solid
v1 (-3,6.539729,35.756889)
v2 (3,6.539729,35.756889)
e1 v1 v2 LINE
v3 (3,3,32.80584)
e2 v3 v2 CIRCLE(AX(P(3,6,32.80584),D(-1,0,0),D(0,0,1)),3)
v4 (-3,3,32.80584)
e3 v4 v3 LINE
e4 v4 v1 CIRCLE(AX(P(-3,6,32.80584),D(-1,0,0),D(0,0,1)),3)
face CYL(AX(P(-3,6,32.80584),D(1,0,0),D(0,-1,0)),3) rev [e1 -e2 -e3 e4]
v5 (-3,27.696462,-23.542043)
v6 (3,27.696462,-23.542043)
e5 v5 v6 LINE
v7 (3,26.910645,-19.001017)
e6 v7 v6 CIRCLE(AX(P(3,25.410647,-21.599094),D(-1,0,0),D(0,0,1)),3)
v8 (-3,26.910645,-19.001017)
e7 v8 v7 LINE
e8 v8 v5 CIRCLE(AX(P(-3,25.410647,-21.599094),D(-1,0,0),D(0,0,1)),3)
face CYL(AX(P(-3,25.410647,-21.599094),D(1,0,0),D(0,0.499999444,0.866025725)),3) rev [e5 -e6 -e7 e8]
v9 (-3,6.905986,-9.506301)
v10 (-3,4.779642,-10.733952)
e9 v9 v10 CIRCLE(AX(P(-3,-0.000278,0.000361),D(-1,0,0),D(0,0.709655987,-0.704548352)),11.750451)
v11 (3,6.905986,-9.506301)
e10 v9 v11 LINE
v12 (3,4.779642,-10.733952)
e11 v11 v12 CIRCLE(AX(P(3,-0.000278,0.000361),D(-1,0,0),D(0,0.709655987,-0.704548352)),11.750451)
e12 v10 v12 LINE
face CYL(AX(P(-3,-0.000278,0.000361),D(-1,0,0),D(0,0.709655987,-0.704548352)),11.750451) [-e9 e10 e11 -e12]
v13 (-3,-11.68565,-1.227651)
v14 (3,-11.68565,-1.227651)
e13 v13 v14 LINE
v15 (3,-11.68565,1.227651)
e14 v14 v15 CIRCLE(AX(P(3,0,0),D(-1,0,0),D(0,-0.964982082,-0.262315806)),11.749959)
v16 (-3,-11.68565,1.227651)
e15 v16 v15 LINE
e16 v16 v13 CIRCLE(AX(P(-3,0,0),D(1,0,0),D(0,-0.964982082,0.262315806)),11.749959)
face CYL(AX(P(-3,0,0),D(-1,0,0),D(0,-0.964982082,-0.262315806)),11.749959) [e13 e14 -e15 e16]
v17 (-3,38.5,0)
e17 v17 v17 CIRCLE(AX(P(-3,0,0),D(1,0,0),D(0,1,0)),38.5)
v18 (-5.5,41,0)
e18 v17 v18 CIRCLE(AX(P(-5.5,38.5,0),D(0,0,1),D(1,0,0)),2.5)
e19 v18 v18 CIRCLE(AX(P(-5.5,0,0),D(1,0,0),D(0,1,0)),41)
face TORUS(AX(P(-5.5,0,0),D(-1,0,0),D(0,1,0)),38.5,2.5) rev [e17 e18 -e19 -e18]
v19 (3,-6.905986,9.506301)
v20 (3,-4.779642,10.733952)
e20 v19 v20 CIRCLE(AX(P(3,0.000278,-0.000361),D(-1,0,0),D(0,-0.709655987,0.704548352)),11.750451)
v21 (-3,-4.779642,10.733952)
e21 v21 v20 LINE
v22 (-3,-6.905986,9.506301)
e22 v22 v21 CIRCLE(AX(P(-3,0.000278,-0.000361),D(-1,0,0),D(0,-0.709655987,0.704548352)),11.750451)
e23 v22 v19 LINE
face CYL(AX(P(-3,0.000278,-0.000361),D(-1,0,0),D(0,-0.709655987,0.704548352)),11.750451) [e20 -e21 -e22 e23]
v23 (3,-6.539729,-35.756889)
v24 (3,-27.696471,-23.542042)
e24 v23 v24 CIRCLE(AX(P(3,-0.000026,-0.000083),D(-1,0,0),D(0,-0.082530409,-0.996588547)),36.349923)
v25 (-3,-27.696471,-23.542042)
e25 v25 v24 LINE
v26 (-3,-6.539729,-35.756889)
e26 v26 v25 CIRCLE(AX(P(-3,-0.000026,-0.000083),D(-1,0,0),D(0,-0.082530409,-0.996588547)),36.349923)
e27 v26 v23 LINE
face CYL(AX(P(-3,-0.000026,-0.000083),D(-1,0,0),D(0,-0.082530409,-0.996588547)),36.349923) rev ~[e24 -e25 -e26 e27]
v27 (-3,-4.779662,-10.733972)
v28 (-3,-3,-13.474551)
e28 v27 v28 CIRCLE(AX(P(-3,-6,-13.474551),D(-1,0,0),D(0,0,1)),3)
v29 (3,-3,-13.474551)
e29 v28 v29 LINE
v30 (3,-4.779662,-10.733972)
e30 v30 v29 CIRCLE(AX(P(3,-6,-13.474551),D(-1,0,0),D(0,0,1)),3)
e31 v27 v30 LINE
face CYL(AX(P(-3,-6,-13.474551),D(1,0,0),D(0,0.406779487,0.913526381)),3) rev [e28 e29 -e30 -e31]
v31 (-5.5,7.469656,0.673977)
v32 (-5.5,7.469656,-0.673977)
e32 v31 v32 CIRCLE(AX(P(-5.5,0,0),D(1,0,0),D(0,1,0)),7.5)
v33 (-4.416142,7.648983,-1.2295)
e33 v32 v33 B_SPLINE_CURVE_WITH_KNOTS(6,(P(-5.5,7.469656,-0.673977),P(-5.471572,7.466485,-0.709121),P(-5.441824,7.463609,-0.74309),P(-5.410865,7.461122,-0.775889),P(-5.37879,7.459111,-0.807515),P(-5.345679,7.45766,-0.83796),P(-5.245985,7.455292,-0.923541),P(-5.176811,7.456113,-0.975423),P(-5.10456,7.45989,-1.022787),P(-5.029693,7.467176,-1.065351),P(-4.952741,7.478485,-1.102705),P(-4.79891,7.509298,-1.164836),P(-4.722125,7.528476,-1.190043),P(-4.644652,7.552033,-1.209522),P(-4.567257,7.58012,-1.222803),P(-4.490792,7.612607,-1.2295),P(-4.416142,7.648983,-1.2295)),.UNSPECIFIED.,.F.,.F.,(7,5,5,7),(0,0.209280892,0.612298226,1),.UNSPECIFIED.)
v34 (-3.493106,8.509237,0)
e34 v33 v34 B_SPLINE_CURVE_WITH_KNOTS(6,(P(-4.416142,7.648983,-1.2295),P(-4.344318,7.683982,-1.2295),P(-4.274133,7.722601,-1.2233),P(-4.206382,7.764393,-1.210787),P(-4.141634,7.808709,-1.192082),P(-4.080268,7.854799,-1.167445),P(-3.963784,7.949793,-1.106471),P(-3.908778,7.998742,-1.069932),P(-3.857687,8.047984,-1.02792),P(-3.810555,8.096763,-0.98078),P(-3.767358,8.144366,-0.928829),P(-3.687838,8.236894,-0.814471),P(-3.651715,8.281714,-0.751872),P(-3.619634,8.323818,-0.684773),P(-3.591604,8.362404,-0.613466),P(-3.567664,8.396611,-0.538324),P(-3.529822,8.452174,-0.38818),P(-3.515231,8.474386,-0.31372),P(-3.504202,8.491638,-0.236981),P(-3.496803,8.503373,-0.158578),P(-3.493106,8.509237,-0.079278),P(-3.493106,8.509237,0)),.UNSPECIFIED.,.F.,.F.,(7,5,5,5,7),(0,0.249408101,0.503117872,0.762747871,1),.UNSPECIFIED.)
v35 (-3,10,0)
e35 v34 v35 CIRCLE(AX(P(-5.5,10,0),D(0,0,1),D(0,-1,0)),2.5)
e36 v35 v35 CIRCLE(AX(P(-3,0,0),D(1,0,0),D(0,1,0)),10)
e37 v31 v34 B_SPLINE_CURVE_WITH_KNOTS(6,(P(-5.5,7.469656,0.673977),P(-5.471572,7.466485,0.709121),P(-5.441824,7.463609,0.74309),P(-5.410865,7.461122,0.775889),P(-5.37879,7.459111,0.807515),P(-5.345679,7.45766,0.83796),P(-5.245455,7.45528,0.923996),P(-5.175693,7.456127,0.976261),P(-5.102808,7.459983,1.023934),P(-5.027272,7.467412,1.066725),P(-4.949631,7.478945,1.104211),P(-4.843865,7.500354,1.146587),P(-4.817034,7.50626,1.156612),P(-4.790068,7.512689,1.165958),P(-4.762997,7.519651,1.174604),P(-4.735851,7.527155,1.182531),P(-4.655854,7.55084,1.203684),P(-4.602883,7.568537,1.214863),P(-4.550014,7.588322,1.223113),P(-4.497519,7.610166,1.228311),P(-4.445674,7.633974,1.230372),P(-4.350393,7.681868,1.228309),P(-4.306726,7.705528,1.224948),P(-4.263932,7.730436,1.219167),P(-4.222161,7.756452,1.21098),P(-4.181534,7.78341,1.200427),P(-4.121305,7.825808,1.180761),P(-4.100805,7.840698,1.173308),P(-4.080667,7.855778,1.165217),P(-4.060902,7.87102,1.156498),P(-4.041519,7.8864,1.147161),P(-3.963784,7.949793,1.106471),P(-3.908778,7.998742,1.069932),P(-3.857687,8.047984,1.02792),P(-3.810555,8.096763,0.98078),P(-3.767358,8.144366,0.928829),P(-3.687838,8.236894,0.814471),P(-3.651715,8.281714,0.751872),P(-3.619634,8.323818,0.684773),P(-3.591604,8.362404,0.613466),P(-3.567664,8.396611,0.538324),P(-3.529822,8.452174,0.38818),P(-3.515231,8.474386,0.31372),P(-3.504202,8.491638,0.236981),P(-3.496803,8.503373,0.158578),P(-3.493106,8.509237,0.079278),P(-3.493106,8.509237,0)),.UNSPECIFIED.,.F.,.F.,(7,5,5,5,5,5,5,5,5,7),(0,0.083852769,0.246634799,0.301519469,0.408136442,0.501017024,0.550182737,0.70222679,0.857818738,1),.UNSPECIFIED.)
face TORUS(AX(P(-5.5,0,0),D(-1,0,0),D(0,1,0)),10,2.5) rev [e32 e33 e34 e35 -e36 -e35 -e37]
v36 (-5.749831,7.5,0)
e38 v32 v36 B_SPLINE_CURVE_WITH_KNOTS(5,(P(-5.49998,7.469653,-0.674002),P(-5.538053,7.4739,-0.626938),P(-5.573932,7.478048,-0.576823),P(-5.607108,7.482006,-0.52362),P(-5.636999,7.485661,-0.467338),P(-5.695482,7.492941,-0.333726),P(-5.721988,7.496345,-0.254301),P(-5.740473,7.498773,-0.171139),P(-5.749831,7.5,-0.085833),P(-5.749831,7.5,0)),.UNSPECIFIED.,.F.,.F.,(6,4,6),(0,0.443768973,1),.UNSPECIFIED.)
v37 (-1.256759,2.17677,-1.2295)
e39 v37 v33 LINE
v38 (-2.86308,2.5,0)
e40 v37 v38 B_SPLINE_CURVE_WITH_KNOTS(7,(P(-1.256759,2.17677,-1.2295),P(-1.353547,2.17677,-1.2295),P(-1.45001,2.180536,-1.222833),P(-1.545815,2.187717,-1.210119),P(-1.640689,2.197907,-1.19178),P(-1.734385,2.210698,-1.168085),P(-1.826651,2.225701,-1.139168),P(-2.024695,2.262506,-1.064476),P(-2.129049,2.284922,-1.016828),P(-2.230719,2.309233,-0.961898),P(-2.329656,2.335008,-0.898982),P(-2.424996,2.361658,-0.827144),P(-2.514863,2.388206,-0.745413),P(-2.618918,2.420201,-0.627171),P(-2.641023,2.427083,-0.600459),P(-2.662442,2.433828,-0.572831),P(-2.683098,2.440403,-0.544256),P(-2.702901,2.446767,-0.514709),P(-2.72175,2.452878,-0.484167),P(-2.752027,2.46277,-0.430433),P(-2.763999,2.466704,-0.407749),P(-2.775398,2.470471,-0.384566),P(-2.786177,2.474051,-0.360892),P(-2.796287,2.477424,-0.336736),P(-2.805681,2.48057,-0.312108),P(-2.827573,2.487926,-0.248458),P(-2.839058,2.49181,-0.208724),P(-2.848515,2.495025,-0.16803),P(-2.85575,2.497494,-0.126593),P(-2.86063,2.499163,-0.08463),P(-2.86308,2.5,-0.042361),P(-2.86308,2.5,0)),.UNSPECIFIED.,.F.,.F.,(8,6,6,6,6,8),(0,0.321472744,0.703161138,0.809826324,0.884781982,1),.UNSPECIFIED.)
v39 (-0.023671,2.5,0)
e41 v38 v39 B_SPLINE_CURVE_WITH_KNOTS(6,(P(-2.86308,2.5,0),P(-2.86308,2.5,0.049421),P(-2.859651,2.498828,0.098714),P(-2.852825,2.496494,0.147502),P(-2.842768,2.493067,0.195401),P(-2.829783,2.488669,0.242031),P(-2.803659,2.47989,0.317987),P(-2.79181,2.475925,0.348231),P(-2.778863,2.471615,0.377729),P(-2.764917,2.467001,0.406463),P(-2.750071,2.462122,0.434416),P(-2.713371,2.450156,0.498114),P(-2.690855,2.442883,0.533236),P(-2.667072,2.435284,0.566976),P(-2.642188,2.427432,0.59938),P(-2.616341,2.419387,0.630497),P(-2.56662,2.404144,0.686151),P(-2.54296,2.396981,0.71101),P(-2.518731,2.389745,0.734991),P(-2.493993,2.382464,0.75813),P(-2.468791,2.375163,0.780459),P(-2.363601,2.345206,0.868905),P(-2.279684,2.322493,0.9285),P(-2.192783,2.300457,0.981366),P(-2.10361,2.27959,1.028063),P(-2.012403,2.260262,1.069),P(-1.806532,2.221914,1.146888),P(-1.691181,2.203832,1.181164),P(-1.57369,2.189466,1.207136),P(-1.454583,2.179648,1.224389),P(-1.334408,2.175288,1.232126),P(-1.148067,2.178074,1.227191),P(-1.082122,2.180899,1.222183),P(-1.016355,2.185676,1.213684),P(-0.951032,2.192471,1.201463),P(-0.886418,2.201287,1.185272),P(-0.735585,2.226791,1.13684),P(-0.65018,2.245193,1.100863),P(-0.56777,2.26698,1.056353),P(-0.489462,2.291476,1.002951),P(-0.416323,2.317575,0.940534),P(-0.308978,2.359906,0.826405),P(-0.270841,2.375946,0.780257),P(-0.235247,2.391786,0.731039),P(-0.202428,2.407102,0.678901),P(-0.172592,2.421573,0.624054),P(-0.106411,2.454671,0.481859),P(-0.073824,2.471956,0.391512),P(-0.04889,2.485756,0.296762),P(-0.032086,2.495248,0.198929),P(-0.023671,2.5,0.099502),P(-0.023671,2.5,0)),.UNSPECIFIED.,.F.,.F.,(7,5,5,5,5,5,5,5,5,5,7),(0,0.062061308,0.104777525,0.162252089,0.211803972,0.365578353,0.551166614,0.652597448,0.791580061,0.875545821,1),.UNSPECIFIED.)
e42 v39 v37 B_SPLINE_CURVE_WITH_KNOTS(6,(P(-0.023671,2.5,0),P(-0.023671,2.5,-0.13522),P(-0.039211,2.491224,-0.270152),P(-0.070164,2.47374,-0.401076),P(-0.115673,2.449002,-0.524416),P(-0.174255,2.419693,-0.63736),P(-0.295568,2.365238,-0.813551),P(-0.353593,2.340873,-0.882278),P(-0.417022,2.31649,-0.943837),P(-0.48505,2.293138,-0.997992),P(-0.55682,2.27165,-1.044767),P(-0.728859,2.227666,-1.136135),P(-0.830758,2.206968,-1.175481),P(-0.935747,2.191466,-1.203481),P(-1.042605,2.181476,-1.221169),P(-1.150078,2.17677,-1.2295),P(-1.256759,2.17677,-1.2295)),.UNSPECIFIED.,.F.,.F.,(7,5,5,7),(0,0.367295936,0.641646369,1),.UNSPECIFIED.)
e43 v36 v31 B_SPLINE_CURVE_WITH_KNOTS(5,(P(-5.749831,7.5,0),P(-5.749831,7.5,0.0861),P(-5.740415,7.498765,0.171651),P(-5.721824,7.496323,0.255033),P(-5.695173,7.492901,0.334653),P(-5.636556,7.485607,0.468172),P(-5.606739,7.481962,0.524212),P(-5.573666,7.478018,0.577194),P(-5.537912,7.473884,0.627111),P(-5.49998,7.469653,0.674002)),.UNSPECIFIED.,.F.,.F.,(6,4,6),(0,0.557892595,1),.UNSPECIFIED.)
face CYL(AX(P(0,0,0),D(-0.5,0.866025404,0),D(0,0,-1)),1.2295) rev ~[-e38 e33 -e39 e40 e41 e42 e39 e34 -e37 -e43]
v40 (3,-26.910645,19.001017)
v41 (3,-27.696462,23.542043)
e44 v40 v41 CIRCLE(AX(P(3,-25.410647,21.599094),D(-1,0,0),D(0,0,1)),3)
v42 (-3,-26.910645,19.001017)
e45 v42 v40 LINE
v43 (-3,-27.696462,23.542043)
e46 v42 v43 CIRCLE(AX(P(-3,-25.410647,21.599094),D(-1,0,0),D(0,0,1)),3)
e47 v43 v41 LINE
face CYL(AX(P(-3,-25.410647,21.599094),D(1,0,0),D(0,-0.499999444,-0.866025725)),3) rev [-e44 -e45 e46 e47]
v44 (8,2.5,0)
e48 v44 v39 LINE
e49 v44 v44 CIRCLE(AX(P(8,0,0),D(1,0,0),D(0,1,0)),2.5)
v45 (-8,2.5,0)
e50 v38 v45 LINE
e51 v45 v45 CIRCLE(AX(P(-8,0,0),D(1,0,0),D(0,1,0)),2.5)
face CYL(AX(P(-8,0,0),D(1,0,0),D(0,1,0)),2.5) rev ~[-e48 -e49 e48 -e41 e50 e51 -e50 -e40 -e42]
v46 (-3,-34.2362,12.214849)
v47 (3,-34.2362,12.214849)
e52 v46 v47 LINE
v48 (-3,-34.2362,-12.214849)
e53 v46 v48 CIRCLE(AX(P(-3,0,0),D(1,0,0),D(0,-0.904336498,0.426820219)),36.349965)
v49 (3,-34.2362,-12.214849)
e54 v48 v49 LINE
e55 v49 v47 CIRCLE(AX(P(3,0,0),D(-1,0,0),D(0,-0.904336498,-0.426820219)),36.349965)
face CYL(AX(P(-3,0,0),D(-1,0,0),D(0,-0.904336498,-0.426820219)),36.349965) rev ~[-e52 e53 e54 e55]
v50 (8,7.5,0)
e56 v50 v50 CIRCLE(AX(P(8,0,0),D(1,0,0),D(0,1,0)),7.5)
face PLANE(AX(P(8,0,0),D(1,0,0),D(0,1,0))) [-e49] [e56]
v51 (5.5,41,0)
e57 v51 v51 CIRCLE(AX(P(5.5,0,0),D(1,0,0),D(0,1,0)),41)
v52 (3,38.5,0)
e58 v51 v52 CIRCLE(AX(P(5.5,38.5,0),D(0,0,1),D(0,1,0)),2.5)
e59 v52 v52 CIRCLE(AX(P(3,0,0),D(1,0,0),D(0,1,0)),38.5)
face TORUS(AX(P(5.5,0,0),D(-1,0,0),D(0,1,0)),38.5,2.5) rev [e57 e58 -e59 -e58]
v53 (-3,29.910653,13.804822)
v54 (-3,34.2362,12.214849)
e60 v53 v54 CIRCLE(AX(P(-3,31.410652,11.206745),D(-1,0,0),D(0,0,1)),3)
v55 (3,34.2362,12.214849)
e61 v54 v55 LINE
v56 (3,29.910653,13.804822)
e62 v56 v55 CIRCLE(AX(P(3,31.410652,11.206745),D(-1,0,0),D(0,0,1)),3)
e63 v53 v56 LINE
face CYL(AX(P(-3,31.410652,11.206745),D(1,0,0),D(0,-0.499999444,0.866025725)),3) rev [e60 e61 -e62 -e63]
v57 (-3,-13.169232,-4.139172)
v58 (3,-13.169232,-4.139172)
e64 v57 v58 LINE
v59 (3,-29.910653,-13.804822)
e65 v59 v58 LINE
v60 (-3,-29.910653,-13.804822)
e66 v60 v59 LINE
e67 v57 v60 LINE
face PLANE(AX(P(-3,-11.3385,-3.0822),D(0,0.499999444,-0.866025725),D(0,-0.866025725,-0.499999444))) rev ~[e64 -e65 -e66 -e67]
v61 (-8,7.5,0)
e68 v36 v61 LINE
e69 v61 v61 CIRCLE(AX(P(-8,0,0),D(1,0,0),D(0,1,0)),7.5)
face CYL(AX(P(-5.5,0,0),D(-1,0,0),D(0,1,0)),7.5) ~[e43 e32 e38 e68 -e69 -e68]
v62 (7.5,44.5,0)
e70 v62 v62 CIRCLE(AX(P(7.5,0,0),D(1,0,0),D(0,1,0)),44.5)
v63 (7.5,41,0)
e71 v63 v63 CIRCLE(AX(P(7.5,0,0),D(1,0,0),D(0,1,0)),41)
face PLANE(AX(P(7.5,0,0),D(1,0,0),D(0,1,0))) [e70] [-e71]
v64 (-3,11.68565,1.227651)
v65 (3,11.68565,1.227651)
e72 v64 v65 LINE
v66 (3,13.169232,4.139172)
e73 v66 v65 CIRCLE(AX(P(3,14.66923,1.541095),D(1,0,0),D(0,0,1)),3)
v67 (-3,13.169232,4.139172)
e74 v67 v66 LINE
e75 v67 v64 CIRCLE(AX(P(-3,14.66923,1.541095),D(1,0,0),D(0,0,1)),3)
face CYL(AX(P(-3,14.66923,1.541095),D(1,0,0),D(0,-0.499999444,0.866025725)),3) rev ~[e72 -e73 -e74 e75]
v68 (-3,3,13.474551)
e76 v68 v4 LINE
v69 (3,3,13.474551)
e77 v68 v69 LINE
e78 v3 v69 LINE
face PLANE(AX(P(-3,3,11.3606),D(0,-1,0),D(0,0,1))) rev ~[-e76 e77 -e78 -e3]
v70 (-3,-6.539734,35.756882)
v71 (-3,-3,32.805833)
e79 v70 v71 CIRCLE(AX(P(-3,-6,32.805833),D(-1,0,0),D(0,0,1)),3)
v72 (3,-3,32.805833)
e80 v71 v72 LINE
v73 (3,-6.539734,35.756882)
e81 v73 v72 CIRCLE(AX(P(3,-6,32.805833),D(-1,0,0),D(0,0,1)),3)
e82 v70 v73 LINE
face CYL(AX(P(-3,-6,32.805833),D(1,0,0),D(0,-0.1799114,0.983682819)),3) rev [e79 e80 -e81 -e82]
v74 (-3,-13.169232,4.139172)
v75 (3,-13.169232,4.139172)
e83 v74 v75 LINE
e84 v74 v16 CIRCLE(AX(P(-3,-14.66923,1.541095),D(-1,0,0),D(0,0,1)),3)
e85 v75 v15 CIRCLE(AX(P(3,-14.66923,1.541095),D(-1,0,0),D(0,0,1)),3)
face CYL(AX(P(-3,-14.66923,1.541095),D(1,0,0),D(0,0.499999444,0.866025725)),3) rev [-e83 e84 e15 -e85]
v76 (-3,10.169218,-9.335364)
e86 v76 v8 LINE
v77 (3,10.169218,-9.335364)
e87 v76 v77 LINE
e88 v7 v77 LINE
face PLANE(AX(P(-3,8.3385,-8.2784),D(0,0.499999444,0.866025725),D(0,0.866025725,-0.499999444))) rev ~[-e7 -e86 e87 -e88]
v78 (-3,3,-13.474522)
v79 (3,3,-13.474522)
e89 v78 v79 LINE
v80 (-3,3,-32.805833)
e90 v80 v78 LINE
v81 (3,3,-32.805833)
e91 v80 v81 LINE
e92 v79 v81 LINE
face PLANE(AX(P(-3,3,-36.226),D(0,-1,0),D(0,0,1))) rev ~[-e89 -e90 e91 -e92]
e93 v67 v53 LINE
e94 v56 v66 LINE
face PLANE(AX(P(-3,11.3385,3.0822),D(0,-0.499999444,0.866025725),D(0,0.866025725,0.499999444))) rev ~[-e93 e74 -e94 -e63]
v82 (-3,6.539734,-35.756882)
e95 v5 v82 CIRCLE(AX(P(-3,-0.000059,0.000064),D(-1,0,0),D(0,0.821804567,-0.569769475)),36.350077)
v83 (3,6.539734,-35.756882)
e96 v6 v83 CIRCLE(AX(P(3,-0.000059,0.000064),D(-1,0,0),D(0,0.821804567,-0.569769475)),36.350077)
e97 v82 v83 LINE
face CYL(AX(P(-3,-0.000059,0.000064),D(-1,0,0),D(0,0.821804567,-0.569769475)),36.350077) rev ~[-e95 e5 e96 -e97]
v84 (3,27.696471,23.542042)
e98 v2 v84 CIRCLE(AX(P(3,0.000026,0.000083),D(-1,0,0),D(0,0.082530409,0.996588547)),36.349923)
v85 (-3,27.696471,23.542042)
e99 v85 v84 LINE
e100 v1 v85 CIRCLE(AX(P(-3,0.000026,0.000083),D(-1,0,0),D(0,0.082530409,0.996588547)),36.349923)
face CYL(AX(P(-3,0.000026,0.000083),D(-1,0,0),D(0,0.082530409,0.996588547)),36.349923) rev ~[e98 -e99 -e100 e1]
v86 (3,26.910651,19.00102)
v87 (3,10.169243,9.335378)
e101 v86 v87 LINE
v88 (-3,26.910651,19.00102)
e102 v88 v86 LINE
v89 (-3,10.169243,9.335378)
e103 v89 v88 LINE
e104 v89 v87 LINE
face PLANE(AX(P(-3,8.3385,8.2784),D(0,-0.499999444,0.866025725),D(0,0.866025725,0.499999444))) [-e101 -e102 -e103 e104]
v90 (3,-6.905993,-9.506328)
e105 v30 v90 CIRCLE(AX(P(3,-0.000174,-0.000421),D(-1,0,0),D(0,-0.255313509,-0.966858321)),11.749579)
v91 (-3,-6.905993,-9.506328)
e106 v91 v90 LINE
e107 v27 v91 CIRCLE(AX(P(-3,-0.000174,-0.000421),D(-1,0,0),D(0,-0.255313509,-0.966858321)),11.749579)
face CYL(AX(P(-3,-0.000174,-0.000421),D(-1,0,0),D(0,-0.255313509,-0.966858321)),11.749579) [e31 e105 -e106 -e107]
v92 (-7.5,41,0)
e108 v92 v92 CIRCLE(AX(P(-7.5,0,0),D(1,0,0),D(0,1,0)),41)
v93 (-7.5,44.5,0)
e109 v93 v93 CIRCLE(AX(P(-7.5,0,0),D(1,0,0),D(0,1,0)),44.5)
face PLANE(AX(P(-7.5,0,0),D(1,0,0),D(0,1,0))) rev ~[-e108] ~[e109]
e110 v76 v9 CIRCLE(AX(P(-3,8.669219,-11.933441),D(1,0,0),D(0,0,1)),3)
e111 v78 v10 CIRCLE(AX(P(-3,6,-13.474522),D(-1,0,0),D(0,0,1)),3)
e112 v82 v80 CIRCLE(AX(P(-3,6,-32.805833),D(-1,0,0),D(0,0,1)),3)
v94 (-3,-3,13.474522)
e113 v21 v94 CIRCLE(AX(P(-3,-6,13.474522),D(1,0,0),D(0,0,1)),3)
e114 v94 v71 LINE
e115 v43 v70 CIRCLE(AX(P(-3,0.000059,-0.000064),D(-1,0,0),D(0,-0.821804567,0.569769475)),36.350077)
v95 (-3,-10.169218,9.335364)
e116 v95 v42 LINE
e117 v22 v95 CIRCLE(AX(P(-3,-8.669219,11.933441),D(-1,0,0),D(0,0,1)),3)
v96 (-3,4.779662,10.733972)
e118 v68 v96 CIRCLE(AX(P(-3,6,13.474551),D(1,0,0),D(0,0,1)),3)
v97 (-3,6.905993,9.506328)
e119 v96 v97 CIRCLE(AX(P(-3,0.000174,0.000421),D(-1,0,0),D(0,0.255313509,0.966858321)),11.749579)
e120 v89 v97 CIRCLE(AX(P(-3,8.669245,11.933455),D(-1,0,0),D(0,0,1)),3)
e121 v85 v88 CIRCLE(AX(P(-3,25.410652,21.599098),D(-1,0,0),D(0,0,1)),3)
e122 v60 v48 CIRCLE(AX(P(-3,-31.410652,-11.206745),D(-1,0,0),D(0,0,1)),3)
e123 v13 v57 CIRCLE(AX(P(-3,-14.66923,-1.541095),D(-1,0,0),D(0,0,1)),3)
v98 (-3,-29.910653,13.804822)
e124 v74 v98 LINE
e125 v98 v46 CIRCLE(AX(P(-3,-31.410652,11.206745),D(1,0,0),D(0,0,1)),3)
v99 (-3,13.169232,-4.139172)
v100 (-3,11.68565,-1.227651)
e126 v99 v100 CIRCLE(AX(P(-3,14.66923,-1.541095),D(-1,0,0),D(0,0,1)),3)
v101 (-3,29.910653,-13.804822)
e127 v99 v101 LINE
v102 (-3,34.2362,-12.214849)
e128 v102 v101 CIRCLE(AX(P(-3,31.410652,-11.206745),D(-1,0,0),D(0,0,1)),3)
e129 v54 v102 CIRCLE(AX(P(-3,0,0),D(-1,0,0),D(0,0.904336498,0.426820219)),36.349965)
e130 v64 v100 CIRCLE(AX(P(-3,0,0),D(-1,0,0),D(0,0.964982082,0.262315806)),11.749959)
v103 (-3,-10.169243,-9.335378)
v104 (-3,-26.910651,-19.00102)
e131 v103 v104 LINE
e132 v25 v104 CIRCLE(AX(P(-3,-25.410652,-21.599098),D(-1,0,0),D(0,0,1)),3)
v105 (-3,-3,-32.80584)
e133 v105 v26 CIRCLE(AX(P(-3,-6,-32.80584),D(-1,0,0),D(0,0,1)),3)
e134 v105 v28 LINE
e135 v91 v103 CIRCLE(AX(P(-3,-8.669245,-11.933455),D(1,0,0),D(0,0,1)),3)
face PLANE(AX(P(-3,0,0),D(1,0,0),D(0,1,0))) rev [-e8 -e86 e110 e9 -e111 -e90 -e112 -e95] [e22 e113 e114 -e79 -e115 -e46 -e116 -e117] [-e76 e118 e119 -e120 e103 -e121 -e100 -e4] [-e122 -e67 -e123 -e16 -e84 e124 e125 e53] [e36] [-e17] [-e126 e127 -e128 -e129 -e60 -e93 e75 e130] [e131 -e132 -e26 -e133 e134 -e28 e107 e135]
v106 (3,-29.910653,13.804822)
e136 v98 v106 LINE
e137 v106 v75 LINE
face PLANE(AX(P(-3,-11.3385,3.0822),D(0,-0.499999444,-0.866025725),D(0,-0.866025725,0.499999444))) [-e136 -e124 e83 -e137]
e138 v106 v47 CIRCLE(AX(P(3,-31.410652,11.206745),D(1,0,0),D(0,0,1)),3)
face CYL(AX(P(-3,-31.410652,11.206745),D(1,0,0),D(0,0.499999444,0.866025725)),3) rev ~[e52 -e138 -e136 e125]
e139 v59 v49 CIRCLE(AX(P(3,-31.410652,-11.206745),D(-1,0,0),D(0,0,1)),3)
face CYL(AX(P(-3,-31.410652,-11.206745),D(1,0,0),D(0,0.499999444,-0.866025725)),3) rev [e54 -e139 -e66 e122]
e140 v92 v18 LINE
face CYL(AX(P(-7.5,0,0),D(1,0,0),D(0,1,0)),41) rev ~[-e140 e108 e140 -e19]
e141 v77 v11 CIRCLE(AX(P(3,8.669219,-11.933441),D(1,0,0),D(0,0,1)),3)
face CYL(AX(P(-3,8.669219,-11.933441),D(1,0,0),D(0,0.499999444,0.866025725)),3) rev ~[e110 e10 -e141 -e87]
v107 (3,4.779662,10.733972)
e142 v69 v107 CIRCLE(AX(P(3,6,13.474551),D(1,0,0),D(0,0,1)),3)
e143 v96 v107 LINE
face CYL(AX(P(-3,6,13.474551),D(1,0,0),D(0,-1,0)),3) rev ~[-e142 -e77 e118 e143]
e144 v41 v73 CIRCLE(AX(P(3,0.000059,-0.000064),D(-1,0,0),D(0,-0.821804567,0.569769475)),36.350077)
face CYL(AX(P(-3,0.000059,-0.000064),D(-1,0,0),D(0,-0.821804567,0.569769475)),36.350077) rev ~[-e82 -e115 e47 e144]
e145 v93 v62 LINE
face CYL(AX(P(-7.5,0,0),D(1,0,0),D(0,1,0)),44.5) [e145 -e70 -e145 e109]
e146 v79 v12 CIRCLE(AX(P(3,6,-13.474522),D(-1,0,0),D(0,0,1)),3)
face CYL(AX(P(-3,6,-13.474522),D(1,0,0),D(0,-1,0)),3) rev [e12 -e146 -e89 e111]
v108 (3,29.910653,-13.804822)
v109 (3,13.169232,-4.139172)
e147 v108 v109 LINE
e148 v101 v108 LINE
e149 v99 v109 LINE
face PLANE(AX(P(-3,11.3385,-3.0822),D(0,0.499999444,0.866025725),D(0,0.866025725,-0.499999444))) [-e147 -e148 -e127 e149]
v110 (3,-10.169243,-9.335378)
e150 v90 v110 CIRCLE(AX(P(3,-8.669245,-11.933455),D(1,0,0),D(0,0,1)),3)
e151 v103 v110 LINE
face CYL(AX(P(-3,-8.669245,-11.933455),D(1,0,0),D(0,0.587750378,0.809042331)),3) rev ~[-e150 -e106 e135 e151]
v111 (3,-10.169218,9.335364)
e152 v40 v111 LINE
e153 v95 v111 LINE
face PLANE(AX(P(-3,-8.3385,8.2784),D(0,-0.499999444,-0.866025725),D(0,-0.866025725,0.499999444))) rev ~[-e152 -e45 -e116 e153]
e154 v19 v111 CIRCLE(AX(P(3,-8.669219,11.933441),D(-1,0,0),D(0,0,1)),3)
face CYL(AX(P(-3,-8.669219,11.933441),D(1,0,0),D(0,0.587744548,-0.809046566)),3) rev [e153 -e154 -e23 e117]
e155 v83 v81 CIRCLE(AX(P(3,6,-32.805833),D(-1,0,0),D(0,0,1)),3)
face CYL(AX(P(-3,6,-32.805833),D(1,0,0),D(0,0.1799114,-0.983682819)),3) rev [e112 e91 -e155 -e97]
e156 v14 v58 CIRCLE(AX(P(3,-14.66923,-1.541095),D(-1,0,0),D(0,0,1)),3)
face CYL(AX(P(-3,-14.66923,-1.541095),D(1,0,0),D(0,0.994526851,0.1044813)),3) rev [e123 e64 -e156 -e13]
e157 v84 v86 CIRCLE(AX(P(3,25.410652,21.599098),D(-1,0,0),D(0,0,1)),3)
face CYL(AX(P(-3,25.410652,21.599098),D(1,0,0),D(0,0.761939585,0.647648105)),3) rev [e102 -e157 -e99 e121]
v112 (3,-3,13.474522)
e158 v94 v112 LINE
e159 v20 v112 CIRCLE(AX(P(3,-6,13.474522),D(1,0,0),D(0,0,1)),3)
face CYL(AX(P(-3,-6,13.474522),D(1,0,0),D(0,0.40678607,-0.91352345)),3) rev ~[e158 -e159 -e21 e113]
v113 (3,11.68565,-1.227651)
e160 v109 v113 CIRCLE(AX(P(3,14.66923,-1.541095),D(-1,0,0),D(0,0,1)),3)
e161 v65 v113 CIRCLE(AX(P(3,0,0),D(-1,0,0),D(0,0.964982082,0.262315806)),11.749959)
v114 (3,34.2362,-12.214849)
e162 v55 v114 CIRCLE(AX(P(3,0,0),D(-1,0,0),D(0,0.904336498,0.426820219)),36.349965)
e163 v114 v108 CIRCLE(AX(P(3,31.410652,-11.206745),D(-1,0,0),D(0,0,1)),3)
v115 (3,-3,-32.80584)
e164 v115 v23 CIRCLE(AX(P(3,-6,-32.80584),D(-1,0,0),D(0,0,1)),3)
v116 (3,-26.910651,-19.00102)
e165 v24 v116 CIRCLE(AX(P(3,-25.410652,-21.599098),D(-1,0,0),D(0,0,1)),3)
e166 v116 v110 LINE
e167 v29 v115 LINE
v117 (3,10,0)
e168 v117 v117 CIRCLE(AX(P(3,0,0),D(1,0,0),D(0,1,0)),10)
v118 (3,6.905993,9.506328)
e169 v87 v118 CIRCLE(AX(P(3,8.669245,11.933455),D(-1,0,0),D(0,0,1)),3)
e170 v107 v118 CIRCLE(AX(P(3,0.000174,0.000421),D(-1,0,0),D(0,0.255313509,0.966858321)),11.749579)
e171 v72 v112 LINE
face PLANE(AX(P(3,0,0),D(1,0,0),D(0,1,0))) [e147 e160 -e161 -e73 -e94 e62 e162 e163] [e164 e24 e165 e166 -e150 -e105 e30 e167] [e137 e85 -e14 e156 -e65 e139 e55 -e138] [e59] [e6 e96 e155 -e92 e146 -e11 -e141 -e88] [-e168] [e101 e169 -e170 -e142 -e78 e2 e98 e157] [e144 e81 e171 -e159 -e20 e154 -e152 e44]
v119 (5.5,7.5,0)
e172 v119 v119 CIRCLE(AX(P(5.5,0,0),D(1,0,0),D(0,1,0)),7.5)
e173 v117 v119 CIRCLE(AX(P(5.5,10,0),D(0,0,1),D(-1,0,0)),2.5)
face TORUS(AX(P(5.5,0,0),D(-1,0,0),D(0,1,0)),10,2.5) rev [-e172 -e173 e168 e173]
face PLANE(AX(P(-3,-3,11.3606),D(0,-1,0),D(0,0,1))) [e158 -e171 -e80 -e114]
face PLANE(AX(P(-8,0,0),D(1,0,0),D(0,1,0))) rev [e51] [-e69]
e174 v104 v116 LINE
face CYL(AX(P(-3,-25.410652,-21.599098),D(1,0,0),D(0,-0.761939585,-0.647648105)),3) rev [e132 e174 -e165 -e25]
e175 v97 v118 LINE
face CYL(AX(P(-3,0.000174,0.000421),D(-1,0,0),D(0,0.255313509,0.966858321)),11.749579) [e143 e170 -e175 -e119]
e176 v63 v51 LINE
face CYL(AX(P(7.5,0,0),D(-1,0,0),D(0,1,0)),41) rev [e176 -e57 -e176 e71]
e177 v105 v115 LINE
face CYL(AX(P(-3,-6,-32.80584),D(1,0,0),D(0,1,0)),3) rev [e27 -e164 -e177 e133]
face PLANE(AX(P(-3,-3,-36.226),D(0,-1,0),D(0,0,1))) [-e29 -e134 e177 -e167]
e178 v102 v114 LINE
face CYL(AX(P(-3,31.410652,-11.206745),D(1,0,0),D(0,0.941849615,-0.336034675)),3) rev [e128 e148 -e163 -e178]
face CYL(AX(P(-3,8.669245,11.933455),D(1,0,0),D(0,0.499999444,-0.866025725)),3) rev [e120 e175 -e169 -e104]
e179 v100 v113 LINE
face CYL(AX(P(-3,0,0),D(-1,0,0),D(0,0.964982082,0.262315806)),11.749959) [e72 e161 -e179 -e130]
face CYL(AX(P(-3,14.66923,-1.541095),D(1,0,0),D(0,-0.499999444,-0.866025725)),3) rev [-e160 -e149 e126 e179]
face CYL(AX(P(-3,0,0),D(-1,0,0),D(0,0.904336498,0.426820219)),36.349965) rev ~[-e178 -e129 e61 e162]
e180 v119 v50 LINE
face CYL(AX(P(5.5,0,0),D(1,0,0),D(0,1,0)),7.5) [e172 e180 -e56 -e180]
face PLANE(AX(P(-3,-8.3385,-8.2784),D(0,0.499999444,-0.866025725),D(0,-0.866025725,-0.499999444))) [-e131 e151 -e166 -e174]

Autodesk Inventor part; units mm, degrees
ref_plane "XZ Plane" through (0, 0, 0) normal (0, 1, 0) x (-1, 0, 0)
ref_plane "XY Plane" through (0, 0, 0) normal (0, 0, 1) x (1, 0, 0)
sketch "Skizze2" plane through (0, 0, 0) normal (0, 0, 1) x (1, 0, 0)
  line L0 (0, -21.0687) -> (0, 71.4095) projected
  line L1 (-11.2, 0) -> (11.2, 0) projected
  line L2 (-8, 2.5) -> (-8, 7.5)
  line L3 (-5.5, 7.5) -> (-8, 7.5)
  arc A0 (-5.5, 7.5) -> (-3, 10) centre (-5.5, 10) ccw
  line L4 (-3, 10) -> (-3, 38.5)
  arc A1 (-3, 38.5) -> (-5.5, 41) centre (-5.5, 38.5) ccw
  line L5 (-7.5, 44.5) -> (7.5, 44.5)
  line L6 (7.5, 44.5) -> (7.5, 41)
  line L7 (7.5, 41) -> (5.5, 41)
  arc A2 (5.5, 41) -> (3, 38.5) centre (5.5, 38.5) ccw
  line L8 (3, 38.5) -> (3, 10)
  arc A3 (3, 10) -> (5.5, 7.5) centre (5.5, 10) ccw
  line L9 (5.5, 7.5) -> (8, 7.5)
  line L10 (8, 7.5) -> (8, 2.5)
  line L11 (-8, 2.5) -> (8, 2.5)
  line L12 (-7.5, 44.5) -> (-7.5, 41)
  line L13 (-7.5, 41) -> (-5.5, 41)
  line L14 (0, 58.1983) -> (0, -7.8576) construction
  point P0 (0, 0)
  dimension "d5" = 15
  dimension "d7" = 2.5
  dimension "d8" = 2.5
  dimension "d9" = 2.5
  dimension "d10" = 2.5
  dimension "d11" = 89
  dimension "d12" = 82
  dimension "d13" = 15
  dimension "d14" = 6
  dimension "d15" = 7.5
  dimension "d16" = 5
  dimension "d41" = 16
revolve "Umdrehung1" add sketch "Skizze2" angle 360 about axis through (-10, 0, 0) along (1, 0, 0)
sketch "Skizze3" plane through (-3, 0, 0) normal (-1, 0, 0) x (0, 0, 1)
  line L0 (0, -62.3) -> (0, 62.3) projected
  line L1 (-62.3, 0) -> (62.3, 0) projected
  line L2 (-3.0822, 11.3385) -> (-15.5149, 32.8726)
  line L3 (3.0822, 11.3385) -> (15.5149, 32.8726)
  line L4 (-8.2784, 8.3385) -> (-20.7111, 29.8726)
  line L5 (-36.226, 3) -> (-11.3606, 3)
  line L6 (11.3606, 3) -> (36.226, 3)
  line L7 (8.2784, 8.3385) -> (20.7111, 29.8726)
  line L8 (-3.0822, -11.3385) -> (-15.5149, -32.8726)
  line L9 (3.0822, -11.3385) -> (15.5149, -32.8726)
  line L10 (-8.2784, -8.3385) -> (-20.7111, -29.8726)
  line L11 (-36.226, -3) -> (-11.3606, -3)
  line L12 (11.3606, -3) -> (36.226, -3)
  line L13 (8.2784, -8.3385) -> (20.7111, -29.8726)
  arc A0 (3.0822, 11.3385) -> (-3.0822, 11.3385) centre (0, 0) ccw
  arc A1 (15.5149, 32.8726) -> (-15.5149, 32.8726) centre (0, 0) ccw
  arc A2 (36.226, 3) -> (20.7111, 29.8726) centre (0, 0) ccw
  arc A3 (-20.7111, 29.8726) -> (-36.226, 3) centre (0, 0) ccw
  arc A4 (20.7111, -29.8726) -> (36.226, -3) centre (0, 0) ccw
  arc A5 (-36.226, -3) -> (-20.7111, -29.8726) centre (0, 0) ccw
  arc A6 (-15.5149, -32.8726) -> (15.5149, -32.8726) centre (0, 0) ccw
  arc A7 (-8.2784, 8.3385) -> (-11.3606, 3) centre (0, 0) ccw
  arc A8 (-11.3606, -3) -> (-8.2784, -8.3385) centre (0, 0) ccw
  arc A9 (-3.0822, -11.3385) -> (3.0822, -11.3385) centre (0, 0) ccw
  arc A10 (8.2784, -8.3385) -> (11.3606, -3) centre (0, 0) ccw
  arc A11 (11.3606, 3) -> (8.2784, 8.3385) centre (0, 0) ccw
  dimension "d21" = 60
  dimension "d23" = 6
  dimension "d24" = 6
  dimension "d25" = 3
  dimension "d26" = 3
  dimension "d27" = 60
  dimension "d28" = 36.35
  dimension "d29" = 11.75
  dimension "d30" = 36.35
  dimension "d31" = 11.75
  dimension "d32" = 36.35
  dimension "d33" = 11.75
extrude "Extrusion2" cut sketch "Skizze3" against normal through all
fillet "Rundung1" radius 3 4 edges at (0, 11.3385, -3.0822) (0, 11.3385, 3.0822) (0, 32.8726, -15.5149) (0, 32.8726, 15.5149)
pattern_circular "Runde Anordnung1" count 6 over 360 about axis through (-6.75, 0, 0) along (1, 0, 0) of "Rundung1"
ref_plane "Arbeitsebene1" through (0, 0, 0) normal (0.5, -0.866, 0) x (0, 0, 1)
sketch "Skizze5" plane through (0, 0, 0) normal (0.5, -0.866, 0) x (0, 0, 1)
  point P0 (0, 0)
  point P1 (0, 0)
hole "Bohrung1" at (0, 0, 0) direction (-0.5, 0.866, 0) diameter 2.459 depth 10 tip angle 118 thread size "M3x0.5" class "6H" standard "ISO Metric profile"
properties part number "Schwungrad"
